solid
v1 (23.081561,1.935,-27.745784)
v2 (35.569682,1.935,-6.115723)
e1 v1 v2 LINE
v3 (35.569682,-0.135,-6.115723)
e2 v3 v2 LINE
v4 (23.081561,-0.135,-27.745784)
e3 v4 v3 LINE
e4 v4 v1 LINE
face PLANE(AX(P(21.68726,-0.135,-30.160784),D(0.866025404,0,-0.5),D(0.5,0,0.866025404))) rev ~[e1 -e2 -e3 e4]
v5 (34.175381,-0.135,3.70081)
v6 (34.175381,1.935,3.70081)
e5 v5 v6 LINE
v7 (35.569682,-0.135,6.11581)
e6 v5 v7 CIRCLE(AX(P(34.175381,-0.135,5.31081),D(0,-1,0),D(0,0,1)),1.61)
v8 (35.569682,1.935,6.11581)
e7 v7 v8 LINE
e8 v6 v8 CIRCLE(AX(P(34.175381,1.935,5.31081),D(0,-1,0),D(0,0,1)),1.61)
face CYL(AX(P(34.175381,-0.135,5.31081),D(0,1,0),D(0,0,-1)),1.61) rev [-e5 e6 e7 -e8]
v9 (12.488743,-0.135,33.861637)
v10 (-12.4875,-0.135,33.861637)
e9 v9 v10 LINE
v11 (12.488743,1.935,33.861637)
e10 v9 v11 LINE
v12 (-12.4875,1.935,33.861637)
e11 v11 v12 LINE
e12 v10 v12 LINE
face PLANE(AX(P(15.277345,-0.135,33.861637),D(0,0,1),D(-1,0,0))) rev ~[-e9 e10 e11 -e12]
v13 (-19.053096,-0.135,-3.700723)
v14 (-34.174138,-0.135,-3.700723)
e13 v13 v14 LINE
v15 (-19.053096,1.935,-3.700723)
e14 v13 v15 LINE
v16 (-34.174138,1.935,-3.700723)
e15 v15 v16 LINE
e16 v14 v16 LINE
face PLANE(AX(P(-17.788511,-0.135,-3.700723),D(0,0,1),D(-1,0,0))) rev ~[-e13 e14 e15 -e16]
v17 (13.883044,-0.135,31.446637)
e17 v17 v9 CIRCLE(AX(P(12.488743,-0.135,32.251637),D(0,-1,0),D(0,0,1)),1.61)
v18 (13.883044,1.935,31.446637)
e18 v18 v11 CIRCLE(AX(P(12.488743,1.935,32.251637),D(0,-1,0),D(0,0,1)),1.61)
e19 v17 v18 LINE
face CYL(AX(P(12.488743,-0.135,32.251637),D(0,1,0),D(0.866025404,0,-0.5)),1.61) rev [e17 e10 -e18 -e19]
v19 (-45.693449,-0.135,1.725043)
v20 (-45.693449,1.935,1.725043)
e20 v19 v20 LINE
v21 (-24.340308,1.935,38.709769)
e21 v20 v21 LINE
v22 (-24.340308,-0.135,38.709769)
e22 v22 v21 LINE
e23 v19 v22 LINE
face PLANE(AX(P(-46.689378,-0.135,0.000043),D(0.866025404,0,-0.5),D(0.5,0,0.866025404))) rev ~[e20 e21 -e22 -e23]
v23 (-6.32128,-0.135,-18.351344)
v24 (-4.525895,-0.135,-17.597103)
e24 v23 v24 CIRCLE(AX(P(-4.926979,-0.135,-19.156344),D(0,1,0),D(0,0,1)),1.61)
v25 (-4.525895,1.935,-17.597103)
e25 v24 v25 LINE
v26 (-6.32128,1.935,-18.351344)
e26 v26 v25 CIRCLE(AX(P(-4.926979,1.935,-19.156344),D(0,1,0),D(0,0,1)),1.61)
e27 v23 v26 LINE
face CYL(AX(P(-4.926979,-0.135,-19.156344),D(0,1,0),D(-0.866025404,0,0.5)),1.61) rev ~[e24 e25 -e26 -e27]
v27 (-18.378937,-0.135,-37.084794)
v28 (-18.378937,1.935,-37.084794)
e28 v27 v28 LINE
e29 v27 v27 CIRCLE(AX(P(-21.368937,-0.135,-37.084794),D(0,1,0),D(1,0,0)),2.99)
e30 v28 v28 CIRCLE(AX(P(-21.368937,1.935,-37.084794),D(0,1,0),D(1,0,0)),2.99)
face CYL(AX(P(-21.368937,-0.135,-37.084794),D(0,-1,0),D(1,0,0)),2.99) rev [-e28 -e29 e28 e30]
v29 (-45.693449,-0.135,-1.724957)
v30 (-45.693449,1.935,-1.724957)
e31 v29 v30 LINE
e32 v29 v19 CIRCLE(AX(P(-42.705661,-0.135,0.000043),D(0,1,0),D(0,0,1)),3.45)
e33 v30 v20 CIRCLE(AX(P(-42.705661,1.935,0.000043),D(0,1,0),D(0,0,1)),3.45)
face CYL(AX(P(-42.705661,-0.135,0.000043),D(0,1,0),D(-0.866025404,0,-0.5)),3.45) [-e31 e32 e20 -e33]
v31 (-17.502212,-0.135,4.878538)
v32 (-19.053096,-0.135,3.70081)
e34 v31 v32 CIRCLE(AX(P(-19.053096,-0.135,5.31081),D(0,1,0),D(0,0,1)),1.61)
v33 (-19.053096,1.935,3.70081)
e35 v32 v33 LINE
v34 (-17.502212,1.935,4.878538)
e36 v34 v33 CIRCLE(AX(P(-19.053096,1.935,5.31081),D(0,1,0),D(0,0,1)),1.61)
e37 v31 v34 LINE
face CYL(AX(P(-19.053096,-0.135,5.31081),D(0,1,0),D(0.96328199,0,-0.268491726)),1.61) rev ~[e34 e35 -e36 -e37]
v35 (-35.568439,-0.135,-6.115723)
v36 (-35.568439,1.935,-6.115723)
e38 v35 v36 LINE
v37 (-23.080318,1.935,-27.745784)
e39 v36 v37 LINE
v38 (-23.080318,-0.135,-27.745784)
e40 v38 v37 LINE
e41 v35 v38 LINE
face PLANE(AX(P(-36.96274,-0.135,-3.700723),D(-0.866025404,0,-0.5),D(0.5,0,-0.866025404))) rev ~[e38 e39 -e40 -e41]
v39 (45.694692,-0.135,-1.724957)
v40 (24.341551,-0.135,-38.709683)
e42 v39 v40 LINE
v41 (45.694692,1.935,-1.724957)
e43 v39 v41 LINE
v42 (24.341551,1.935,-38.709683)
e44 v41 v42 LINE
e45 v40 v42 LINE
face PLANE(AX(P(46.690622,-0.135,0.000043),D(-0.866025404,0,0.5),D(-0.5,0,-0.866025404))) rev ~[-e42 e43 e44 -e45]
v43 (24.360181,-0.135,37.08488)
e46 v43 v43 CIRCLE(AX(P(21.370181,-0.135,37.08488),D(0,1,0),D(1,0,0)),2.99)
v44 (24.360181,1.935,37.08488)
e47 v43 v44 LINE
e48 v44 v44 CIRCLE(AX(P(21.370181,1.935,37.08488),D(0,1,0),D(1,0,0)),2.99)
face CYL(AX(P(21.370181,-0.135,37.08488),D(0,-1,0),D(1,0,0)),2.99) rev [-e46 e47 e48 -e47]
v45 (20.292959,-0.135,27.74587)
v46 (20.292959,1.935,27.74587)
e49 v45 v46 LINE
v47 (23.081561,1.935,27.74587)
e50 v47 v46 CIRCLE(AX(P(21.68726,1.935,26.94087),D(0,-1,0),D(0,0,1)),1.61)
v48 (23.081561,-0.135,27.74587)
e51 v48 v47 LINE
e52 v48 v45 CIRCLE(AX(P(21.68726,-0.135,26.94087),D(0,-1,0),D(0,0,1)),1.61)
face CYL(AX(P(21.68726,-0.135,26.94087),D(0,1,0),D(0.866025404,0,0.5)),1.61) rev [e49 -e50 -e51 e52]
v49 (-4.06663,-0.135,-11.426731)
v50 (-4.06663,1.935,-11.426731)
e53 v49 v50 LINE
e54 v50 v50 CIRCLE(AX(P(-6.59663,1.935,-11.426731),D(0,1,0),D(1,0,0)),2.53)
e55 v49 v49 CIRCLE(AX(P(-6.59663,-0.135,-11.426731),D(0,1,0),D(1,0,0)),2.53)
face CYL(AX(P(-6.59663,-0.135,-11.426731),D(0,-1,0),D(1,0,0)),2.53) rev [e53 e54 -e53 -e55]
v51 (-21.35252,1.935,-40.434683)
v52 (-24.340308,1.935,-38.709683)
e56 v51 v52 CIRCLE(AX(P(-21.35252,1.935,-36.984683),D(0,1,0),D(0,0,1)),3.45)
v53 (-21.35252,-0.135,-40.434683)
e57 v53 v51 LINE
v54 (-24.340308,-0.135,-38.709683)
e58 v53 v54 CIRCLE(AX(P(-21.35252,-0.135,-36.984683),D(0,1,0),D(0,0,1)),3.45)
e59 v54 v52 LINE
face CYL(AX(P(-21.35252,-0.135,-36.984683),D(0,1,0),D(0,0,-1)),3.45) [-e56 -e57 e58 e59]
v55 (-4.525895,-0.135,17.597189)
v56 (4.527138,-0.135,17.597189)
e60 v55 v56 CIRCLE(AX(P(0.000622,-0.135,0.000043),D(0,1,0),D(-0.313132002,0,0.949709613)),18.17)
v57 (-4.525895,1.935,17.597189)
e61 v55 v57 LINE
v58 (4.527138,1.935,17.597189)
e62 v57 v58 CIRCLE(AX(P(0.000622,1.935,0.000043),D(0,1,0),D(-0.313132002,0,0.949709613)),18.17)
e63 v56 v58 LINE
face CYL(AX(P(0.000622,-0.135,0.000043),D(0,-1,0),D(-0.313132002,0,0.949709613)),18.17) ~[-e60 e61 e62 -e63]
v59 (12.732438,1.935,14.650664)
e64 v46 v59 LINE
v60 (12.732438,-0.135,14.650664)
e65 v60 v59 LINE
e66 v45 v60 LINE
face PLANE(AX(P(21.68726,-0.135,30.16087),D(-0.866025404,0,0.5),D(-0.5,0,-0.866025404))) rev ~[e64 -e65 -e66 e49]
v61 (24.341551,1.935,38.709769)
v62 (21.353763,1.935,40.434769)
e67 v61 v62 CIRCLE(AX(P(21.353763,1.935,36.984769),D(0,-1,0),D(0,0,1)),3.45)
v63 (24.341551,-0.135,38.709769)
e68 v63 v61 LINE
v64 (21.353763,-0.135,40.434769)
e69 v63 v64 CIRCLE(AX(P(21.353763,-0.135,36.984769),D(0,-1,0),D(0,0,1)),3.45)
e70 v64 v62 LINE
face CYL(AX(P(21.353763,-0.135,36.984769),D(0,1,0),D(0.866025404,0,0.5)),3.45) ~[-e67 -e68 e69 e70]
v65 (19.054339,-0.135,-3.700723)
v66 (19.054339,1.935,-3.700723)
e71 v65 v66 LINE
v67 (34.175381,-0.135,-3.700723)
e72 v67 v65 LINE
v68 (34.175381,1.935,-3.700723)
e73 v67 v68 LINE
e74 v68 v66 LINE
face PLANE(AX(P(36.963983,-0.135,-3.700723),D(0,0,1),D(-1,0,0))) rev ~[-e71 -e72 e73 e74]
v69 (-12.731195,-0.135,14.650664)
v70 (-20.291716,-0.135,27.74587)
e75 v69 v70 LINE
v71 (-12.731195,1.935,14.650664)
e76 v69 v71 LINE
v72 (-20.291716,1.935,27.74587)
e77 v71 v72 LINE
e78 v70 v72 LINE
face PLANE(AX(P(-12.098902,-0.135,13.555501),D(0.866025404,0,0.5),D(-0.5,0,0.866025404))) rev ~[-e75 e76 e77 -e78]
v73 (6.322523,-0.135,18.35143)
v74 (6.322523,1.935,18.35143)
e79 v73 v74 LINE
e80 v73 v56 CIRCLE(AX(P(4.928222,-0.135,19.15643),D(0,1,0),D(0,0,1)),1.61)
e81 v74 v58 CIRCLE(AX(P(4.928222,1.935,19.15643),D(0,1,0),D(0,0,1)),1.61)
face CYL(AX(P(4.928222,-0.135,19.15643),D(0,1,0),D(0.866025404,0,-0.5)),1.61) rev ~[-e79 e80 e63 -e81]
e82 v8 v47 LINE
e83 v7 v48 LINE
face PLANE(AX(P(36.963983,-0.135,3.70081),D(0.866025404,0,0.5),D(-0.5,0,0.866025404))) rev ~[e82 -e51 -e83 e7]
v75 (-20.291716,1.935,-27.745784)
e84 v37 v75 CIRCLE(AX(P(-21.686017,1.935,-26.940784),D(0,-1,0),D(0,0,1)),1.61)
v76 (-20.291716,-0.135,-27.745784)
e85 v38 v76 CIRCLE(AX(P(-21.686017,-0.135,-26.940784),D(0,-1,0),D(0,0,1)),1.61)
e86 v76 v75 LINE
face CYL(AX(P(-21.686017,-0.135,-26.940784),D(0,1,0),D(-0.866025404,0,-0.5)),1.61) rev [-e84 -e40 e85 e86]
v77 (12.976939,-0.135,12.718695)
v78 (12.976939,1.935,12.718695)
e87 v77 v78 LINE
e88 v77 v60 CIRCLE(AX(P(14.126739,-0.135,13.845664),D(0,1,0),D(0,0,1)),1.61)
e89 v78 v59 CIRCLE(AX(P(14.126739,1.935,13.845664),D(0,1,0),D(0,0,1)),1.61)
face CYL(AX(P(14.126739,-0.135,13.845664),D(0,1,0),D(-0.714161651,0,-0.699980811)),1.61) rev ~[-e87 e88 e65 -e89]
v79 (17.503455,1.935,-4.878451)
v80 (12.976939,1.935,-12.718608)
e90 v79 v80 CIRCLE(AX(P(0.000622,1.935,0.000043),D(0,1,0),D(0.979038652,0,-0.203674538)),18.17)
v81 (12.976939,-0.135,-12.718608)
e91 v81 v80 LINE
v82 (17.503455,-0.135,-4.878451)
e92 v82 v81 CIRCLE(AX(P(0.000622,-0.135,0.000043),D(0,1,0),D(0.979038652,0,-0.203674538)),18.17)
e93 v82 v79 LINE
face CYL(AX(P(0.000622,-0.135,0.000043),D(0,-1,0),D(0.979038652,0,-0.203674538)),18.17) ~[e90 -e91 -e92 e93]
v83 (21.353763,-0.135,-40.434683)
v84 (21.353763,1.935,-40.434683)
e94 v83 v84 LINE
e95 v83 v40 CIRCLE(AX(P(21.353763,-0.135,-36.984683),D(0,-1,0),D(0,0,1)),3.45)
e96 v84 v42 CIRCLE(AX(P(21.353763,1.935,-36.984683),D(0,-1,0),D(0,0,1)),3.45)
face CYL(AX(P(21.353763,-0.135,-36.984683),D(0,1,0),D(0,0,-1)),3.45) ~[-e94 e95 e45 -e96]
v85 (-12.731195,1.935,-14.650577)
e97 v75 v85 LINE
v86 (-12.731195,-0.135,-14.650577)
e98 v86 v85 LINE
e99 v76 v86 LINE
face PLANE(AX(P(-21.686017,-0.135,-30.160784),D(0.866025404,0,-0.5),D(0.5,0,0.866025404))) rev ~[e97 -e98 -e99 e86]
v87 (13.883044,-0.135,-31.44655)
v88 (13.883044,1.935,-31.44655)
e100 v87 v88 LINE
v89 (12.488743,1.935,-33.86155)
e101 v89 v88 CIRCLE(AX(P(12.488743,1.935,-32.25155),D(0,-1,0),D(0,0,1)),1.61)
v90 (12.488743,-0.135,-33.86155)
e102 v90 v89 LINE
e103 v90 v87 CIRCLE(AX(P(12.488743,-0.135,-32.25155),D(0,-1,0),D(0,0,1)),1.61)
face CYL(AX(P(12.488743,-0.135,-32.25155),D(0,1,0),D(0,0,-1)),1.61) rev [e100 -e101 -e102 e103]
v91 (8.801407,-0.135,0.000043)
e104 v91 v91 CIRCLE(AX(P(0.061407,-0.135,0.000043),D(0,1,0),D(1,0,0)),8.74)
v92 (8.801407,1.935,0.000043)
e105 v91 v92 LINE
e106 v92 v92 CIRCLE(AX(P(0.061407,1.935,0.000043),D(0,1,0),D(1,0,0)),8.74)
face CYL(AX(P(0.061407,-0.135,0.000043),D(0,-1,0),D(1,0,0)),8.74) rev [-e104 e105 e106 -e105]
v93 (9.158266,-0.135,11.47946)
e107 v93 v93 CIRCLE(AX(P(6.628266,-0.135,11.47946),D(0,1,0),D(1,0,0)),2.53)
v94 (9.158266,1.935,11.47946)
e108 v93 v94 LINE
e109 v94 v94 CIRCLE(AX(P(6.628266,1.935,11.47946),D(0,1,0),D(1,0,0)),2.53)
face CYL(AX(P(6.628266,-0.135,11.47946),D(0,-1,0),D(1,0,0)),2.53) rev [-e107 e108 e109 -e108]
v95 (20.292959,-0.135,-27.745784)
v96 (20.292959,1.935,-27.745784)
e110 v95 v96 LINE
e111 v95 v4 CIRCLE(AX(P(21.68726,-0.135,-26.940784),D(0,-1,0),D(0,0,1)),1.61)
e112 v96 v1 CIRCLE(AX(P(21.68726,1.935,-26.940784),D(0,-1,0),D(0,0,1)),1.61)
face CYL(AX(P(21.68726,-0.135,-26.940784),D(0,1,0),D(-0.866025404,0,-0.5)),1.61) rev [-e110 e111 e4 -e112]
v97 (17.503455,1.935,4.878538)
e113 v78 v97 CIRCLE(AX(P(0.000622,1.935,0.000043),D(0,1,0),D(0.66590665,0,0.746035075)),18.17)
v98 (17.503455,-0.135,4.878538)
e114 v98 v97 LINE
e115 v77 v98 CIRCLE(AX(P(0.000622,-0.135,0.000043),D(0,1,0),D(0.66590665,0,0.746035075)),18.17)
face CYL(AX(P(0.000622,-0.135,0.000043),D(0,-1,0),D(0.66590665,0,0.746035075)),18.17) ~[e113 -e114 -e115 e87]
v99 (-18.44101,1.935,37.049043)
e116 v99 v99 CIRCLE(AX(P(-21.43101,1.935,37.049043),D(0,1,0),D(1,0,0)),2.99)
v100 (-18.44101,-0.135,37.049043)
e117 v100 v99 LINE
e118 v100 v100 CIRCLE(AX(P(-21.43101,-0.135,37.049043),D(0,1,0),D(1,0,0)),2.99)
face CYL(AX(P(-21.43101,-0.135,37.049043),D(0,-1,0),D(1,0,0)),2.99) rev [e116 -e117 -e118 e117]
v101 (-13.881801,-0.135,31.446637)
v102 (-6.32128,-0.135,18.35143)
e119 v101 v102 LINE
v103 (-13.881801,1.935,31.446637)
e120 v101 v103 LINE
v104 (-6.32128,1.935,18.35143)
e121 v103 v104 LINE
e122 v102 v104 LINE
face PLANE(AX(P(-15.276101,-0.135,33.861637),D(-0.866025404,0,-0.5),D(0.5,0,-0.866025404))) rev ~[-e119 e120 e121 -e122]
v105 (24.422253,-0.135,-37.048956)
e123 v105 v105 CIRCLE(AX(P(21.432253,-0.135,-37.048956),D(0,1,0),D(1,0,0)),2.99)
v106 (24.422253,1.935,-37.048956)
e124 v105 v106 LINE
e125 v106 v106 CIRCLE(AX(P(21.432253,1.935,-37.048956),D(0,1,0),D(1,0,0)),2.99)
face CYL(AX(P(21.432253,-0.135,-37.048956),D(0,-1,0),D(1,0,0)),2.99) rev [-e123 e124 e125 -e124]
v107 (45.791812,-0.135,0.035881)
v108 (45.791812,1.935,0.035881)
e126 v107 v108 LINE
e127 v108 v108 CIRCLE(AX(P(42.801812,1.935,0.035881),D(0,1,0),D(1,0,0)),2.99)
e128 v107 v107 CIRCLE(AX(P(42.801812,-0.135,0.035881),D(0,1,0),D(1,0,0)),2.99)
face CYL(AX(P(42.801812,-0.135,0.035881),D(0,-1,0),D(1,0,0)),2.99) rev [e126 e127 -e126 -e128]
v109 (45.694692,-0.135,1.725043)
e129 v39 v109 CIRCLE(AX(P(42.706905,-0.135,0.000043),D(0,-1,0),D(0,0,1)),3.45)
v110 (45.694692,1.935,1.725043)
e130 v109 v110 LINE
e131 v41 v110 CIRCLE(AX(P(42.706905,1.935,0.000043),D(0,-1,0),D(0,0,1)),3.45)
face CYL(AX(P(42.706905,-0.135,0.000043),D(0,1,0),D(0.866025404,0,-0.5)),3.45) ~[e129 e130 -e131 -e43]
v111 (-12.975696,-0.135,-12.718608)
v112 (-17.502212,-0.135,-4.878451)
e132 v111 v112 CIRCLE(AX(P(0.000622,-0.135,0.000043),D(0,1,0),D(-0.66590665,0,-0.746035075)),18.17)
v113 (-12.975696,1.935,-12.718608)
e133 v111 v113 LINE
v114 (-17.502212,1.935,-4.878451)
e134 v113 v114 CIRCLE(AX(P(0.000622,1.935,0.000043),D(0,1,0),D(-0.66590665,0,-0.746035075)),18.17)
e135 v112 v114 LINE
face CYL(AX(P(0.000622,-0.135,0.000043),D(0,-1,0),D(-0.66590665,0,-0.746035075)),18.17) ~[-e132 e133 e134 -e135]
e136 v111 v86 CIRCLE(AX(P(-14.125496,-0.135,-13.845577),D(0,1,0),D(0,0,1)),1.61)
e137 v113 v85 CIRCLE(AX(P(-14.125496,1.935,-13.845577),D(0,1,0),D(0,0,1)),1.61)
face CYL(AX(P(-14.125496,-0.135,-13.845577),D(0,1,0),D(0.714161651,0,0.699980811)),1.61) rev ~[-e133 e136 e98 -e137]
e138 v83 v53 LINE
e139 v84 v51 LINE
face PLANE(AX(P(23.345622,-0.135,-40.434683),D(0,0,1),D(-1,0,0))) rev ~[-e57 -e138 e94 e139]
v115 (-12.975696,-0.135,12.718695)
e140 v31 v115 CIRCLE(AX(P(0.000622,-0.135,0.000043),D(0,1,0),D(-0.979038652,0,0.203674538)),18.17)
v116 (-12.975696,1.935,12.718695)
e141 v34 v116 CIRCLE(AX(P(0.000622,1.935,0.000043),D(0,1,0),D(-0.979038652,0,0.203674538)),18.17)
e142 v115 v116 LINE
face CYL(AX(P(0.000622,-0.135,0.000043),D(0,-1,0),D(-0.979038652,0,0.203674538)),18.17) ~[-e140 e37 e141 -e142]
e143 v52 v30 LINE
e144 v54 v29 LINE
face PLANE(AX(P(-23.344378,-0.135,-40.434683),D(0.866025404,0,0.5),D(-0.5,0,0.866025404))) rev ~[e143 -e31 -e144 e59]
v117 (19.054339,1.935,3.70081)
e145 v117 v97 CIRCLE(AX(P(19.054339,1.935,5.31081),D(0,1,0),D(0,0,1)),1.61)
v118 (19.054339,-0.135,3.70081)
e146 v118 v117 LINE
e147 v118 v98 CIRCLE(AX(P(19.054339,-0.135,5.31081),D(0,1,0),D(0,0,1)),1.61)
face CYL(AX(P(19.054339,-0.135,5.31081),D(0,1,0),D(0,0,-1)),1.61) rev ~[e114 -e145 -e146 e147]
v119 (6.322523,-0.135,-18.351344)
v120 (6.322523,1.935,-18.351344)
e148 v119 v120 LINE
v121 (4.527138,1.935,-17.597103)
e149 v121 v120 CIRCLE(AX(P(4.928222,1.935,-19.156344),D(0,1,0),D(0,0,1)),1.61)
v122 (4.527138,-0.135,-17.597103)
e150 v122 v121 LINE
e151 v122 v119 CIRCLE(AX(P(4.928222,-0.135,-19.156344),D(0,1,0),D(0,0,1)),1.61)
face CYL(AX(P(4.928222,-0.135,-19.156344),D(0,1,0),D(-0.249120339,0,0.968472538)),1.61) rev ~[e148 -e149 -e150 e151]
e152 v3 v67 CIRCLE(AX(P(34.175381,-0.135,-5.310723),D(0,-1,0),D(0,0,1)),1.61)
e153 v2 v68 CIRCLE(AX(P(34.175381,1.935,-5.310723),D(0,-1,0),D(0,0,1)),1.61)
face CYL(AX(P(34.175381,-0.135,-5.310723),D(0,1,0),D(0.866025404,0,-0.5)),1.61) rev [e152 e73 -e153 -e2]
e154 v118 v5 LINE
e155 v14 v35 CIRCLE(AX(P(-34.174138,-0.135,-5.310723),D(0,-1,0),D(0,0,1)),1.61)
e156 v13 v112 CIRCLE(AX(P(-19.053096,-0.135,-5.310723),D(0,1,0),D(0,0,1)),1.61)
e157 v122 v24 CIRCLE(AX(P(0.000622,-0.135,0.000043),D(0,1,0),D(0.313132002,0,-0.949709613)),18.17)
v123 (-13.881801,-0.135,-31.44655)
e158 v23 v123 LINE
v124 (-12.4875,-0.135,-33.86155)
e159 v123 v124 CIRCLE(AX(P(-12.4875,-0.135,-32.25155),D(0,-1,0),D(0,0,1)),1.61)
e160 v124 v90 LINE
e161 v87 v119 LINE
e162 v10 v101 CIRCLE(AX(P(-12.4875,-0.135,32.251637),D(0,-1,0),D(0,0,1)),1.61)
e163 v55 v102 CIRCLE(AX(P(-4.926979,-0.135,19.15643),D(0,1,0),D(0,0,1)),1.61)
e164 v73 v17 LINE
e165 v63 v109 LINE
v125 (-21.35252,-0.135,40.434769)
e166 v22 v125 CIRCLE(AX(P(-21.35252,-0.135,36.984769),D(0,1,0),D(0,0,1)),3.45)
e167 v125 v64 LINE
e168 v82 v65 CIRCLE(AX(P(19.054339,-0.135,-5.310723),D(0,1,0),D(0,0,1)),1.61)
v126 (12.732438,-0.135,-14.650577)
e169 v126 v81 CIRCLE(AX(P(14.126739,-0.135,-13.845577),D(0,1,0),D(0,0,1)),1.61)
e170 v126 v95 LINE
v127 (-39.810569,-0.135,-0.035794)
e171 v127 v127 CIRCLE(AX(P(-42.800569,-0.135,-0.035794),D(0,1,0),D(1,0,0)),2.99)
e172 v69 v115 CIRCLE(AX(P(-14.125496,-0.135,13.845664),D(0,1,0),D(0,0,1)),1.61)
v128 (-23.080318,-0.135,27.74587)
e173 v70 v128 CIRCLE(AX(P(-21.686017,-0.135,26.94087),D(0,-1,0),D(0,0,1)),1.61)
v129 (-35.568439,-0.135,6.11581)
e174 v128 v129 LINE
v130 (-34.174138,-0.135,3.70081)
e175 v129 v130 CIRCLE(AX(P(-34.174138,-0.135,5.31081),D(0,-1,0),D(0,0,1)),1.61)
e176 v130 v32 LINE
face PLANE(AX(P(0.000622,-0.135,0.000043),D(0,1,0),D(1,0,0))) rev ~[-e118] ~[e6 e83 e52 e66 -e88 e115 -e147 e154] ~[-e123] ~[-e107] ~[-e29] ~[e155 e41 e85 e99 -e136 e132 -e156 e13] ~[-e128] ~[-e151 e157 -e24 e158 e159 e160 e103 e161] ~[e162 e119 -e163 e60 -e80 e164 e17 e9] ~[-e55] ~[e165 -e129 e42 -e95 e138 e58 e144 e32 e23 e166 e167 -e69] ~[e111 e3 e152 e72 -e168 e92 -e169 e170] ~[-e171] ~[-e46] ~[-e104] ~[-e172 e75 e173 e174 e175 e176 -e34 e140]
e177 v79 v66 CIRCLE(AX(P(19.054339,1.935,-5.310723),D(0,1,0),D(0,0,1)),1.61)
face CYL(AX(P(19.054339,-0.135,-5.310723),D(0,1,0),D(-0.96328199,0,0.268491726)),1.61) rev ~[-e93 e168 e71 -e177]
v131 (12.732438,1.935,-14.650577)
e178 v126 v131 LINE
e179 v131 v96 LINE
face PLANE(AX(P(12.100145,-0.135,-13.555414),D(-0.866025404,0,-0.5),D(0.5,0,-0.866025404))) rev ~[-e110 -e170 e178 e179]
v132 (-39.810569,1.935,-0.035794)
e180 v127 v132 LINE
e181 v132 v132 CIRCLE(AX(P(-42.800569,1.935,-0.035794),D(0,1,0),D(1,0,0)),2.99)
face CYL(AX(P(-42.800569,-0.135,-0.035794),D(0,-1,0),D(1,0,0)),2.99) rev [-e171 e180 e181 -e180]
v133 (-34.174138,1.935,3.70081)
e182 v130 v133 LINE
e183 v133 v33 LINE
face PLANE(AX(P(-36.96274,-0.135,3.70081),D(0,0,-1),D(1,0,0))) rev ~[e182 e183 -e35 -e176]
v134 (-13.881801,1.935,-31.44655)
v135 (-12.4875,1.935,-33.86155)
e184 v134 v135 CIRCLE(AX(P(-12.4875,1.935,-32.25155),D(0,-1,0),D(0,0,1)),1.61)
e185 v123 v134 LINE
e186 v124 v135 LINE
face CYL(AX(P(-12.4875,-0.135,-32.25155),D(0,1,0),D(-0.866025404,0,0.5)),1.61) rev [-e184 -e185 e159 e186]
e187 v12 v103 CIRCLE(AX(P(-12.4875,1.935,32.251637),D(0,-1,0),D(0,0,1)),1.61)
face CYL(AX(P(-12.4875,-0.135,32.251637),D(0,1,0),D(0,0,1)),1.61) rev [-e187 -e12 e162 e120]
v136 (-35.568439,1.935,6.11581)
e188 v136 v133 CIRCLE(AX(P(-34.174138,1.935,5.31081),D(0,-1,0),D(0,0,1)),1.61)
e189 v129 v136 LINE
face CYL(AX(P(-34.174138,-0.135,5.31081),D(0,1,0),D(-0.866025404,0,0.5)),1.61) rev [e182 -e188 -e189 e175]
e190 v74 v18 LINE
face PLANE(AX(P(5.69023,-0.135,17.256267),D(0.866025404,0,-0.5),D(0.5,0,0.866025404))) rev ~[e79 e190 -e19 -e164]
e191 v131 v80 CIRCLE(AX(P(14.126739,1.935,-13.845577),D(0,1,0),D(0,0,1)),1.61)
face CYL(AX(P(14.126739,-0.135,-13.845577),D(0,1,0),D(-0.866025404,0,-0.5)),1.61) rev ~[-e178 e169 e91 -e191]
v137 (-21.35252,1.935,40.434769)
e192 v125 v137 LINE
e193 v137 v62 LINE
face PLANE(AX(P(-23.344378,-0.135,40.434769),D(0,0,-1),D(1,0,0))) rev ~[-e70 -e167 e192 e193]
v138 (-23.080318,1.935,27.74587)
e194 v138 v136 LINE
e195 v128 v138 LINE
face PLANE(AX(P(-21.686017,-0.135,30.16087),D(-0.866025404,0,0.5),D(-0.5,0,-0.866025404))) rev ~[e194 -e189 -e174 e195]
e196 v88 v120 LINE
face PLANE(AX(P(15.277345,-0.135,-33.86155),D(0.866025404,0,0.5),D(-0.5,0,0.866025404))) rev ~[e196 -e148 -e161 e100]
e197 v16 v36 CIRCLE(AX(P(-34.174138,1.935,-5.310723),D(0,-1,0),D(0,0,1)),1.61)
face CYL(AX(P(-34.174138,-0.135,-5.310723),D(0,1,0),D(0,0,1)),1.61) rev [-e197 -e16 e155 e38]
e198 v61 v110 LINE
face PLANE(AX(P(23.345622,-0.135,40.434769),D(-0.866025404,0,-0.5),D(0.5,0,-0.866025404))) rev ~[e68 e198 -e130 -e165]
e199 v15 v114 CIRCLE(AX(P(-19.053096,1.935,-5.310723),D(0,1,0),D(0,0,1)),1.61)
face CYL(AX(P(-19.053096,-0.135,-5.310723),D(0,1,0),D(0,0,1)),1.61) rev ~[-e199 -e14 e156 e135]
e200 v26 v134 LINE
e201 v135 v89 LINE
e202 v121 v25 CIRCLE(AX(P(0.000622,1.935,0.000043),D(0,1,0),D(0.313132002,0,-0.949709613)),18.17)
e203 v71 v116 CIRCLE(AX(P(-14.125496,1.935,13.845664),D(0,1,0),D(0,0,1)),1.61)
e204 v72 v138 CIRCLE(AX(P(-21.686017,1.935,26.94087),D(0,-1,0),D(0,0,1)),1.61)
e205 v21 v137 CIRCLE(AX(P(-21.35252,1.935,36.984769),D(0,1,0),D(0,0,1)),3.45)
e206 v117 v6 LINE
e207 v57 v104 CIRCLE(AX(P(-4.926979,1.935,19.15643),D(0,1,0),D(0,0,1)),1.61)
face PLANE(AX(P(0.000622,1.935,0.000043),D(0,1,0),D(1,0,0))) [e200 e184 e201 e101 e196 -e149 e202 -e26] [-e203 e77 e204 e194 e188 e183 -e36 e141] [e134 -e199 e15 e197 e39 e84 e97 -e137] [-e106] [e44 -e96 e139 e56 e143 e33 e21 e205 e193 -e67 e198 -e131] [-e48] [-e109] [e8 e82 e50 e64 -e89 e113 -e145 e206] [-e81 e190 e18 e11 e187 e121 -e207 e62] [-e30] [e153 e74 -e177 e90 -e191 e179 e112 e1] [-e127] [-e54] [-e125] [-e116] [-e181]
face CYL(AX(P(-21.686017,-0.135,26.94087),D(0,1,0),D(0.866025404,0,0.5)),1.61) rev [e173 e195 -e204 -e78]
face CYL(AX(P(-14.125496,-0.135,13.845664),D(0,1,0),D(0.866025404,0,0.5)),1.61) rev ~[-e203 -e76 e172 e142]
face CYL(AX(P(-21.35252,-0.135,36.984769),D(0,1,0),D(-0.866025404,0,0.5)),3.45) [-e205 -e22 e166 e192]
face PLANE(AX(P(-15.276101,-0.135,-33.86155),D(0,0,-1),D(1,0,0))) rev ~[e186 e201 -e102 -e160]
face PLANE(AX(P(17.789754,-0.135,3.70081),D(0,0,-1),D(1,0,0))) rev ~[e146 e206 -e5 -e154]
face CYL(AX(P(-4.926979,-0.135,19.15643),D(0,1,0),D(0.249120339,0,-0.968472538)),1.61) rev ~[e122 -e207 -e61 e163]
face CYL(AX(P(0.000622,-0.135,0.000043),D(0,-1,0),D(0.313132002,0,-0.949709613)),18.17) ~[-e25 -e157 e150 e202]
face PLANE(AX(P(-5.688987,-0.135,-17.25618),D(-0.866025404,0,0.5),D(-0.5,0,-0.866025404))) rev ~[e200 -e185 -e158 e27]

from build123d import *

# Parameters (mm, degrees)
SKETCH1_R           = 2.6
SKETCH1_R_2         = 2.2
SKETCH1_R_3         = 7.6
BOSS_EXTRUDE1_DEPTH = 1.8
FILLET1_R           = 3
FILLET2_R           = 1.4
SCALE1_SCALE        = 1.15


with BuildPart() as part:
    # Sketch1 → Boss-Extrude1 (new body)
    with BuildSketch(Plane(origin=(0, 0, 0), x_dir=(1, 0, 0), z_dir=(0, 1, 0))):
        Polygon((20.3, 35.160631394), (-20.3, 35.160631394), (-40.6, 0), (-20.3, -35.160631394), (20.3, -35.160631394), (40.6, 0), align=None)
        with Locations((-18.636201283, -32.21652123)):
            Circle(SKETCH1_R, mode=Mode.SUBTRACT)
        with Locations((18.582225165, -32.247684356)):
            Circle(SKETCH1_R, mode=Mode.SUBTRACT)
        with Locations((37.218426448, -0.031163126)):
            Circle(SKETCH1_R, mode=Mode.SUBTRACT)
        with Locations((-37.218426448, 0.031163126)):
            Circle(SKETCH1_R, mode=Mode.SUBTRACT)
        with BuildLine():
            Line((-32.142053523, 3.218057696), (-18.857946477, 26.226806032))
            Line((-18.857946477, 26.226806032), (-10.521325069, 11.78735419))
            ThreePointArc((-10.521325069, 11.78735419), (-13.68320138, 7.9), (-15.468810706, 3.218057696))
            Line((-15.468810706, 3.218057696), (-32.142053523, 3.218057696))
        make_face(mode=Mode.SUBTRACT)
        with BuildLine():
            Line((-18.857946477, -26.226806032), (-32.142053523, -3.218057696))
            Line((-32.142053523, -3.218057696), (-15.468810706, -3.218057696))
            ThreePointArc((-15.468810706, -3.218057696), (-13.68320138, -7.9), (-10.521325069, -11.78735419))
            Line((-10.521325069, -11.78735419), (-18.857946477, -26.226806032))
        make_face(mode=Mode.SUBTRACT)
        with BuildLine():
            Line((13.284107046, -29.444863729), (-13.284107046, -29.444863729))
            Line((-13.284107046, -29.444863729), (-4.947485637, -15.005411886))
            ThreePointArc((-4.947485637, -15.005411886), (0, -15.8), (4.947485637, -15.005411886))
            Line((4.947485637, -15.005411886), (13.284107046, -29.444863729))
        make_face(mode=Mode.SUBTRACT)
        with BuildLine():
            Line((32.142053523, -3.218057696), (18.857946477, -26.226806032))
            Line((18.857946477, -26.226806032), (10.521325069, -11.78735419))
            ThreePointArc((10.521325069, -11.78735419), (13.68320138, -7.9), (15.468810706, -3.218057696))
            Line((15.468810706, -3.218057696), (32.142053523, -3.218057696))
        make_face(mode=Mode.SUBTRACT)
        with BuildLine():
            Line((18.857946477, 26.226806032), (32.142053523, 3.218057696))
            Line((32.142053523, 3.218057696), (15.468810706, 3.218057696))
            ThreePointArc((15.468810706, 3.218057696), (13.68320138, 7.9), (10.521325069, 11.78735419))
            Line((10.521325069, 11.78735419), (18.857946477, 26.226806032))
        make_face(mode=Mode.SUBTRACT)
        with BuildLine():
            Line((-13.284107046, 29.444863729), (13.284107046, 29.444863729))
            Line((13.284107046, 29.444863729), (4.947485637, 15.005411886))
            ThreePointArc((4.947485637, 15.005411886), (0, 15.8), (-4.947485637, 15.005411886))
            Line((-4.947485637, 15.005411886), (-13.284107046, 29.444863729))
        make_face(mode=Mode.SUBTRACT)
        with Locations((-18.582225165, 32.247684356)):
            Circle(SKETCH1_R, mode=Mode.SUBTRACT)
        with Locations((18.636201283, 32.21652123)):
            Circle(SKETCH1_R, mode=Mode.SUBTRACT)
        with Locations((5.763168727, -9.982101048)):
            Circle(SKETCH1_R_2, mode=Mode.SUBTRACT)
        with Locations((-5.736740168, 9.936325441)):
            Circle(SKETCH1_R_2, mode=Mode.SUBTRACT)
        with Locations((0.052857117, 0)):
            Circle(SKETCH1_R_3, mode=Mode.SUBTRACT)
    extrude(amount=BOSS_EXTRUDE1_DEPTH)

    # Fillet1
    fillet1_edges = [part.edges().sort_by_distance(p)[0] for p in [
        (40.6, 0.9, 0),
        (20.3, 0.9, 35.160631394),
        (-20.3, 0.9, 35.160631394),
        (-40.6, 0.9, 0),
        (-20.3, 0.9, -35.160631394),
        (20.3, 0.9, -35.160631394),
    ]]
    fillet(fillet1_edges, radius=FILLET1_R)

    # Fillet2
    fillet2_edges = [part.edges().sort_by_distance(p)[0] for p in [
        (-32.142053523, 0.9, -3.218057696),
        (-15.468810706, 0.9, -3.218057696),
        (-10.521325069, 0.9, -11.78735419),
        (-18.857946477, 0.9, -26.226806032),
        (-18.857946477, 0.9, 26.226806032),
        (-10.521325069, 0.9, 11.78735419),
        (-15.468810706, 0.9, 3.218057696),
        (-32.142053523, 0.9, 3.218057696),
        (13.284107046, 0.9, 29.444863729),
        (4.947485637, 0.9, 15.005411886),
        (-4.947485637, 0.9, 15.005411886),
        (-13.284107046, 0.9, 29.444863729),
        (32.142053523, 0.9, 3.218057696),
        (15.468810706, 0.9, 3.218057696),
        (10.521325069, 0.9, 11.78735419),
        (18.857946477, 0.9, 26.226806032),
        (18.857946477, 0.9, -26.226806032),
        (10.521325069, 0.9, -11.78735419),
        (15.468810706, 0.9, -3.218057696),
        (32.142053523, 0.9, -3.218057696),
        (-13.284107046, 0.9, -29.444863729),
        (-4.947485637, 0.9, -15.005411886),
        (4.947485637, 0.9, -15.005411886),
        (13.284107046, 0.9, -29.444863729),
    ]]
    fillet(fillet2_edges, radius=FILLET2_R)


with BuildPart() as part_1:
    # Scale1: scaled about (-0.004144331, 0.9, -0.000288654)
    add(part.part.scale(SCALE1_SCALE).moved(Location((0.00062165, -0.135, 4.3298e-05))))


solid = part_1.part
